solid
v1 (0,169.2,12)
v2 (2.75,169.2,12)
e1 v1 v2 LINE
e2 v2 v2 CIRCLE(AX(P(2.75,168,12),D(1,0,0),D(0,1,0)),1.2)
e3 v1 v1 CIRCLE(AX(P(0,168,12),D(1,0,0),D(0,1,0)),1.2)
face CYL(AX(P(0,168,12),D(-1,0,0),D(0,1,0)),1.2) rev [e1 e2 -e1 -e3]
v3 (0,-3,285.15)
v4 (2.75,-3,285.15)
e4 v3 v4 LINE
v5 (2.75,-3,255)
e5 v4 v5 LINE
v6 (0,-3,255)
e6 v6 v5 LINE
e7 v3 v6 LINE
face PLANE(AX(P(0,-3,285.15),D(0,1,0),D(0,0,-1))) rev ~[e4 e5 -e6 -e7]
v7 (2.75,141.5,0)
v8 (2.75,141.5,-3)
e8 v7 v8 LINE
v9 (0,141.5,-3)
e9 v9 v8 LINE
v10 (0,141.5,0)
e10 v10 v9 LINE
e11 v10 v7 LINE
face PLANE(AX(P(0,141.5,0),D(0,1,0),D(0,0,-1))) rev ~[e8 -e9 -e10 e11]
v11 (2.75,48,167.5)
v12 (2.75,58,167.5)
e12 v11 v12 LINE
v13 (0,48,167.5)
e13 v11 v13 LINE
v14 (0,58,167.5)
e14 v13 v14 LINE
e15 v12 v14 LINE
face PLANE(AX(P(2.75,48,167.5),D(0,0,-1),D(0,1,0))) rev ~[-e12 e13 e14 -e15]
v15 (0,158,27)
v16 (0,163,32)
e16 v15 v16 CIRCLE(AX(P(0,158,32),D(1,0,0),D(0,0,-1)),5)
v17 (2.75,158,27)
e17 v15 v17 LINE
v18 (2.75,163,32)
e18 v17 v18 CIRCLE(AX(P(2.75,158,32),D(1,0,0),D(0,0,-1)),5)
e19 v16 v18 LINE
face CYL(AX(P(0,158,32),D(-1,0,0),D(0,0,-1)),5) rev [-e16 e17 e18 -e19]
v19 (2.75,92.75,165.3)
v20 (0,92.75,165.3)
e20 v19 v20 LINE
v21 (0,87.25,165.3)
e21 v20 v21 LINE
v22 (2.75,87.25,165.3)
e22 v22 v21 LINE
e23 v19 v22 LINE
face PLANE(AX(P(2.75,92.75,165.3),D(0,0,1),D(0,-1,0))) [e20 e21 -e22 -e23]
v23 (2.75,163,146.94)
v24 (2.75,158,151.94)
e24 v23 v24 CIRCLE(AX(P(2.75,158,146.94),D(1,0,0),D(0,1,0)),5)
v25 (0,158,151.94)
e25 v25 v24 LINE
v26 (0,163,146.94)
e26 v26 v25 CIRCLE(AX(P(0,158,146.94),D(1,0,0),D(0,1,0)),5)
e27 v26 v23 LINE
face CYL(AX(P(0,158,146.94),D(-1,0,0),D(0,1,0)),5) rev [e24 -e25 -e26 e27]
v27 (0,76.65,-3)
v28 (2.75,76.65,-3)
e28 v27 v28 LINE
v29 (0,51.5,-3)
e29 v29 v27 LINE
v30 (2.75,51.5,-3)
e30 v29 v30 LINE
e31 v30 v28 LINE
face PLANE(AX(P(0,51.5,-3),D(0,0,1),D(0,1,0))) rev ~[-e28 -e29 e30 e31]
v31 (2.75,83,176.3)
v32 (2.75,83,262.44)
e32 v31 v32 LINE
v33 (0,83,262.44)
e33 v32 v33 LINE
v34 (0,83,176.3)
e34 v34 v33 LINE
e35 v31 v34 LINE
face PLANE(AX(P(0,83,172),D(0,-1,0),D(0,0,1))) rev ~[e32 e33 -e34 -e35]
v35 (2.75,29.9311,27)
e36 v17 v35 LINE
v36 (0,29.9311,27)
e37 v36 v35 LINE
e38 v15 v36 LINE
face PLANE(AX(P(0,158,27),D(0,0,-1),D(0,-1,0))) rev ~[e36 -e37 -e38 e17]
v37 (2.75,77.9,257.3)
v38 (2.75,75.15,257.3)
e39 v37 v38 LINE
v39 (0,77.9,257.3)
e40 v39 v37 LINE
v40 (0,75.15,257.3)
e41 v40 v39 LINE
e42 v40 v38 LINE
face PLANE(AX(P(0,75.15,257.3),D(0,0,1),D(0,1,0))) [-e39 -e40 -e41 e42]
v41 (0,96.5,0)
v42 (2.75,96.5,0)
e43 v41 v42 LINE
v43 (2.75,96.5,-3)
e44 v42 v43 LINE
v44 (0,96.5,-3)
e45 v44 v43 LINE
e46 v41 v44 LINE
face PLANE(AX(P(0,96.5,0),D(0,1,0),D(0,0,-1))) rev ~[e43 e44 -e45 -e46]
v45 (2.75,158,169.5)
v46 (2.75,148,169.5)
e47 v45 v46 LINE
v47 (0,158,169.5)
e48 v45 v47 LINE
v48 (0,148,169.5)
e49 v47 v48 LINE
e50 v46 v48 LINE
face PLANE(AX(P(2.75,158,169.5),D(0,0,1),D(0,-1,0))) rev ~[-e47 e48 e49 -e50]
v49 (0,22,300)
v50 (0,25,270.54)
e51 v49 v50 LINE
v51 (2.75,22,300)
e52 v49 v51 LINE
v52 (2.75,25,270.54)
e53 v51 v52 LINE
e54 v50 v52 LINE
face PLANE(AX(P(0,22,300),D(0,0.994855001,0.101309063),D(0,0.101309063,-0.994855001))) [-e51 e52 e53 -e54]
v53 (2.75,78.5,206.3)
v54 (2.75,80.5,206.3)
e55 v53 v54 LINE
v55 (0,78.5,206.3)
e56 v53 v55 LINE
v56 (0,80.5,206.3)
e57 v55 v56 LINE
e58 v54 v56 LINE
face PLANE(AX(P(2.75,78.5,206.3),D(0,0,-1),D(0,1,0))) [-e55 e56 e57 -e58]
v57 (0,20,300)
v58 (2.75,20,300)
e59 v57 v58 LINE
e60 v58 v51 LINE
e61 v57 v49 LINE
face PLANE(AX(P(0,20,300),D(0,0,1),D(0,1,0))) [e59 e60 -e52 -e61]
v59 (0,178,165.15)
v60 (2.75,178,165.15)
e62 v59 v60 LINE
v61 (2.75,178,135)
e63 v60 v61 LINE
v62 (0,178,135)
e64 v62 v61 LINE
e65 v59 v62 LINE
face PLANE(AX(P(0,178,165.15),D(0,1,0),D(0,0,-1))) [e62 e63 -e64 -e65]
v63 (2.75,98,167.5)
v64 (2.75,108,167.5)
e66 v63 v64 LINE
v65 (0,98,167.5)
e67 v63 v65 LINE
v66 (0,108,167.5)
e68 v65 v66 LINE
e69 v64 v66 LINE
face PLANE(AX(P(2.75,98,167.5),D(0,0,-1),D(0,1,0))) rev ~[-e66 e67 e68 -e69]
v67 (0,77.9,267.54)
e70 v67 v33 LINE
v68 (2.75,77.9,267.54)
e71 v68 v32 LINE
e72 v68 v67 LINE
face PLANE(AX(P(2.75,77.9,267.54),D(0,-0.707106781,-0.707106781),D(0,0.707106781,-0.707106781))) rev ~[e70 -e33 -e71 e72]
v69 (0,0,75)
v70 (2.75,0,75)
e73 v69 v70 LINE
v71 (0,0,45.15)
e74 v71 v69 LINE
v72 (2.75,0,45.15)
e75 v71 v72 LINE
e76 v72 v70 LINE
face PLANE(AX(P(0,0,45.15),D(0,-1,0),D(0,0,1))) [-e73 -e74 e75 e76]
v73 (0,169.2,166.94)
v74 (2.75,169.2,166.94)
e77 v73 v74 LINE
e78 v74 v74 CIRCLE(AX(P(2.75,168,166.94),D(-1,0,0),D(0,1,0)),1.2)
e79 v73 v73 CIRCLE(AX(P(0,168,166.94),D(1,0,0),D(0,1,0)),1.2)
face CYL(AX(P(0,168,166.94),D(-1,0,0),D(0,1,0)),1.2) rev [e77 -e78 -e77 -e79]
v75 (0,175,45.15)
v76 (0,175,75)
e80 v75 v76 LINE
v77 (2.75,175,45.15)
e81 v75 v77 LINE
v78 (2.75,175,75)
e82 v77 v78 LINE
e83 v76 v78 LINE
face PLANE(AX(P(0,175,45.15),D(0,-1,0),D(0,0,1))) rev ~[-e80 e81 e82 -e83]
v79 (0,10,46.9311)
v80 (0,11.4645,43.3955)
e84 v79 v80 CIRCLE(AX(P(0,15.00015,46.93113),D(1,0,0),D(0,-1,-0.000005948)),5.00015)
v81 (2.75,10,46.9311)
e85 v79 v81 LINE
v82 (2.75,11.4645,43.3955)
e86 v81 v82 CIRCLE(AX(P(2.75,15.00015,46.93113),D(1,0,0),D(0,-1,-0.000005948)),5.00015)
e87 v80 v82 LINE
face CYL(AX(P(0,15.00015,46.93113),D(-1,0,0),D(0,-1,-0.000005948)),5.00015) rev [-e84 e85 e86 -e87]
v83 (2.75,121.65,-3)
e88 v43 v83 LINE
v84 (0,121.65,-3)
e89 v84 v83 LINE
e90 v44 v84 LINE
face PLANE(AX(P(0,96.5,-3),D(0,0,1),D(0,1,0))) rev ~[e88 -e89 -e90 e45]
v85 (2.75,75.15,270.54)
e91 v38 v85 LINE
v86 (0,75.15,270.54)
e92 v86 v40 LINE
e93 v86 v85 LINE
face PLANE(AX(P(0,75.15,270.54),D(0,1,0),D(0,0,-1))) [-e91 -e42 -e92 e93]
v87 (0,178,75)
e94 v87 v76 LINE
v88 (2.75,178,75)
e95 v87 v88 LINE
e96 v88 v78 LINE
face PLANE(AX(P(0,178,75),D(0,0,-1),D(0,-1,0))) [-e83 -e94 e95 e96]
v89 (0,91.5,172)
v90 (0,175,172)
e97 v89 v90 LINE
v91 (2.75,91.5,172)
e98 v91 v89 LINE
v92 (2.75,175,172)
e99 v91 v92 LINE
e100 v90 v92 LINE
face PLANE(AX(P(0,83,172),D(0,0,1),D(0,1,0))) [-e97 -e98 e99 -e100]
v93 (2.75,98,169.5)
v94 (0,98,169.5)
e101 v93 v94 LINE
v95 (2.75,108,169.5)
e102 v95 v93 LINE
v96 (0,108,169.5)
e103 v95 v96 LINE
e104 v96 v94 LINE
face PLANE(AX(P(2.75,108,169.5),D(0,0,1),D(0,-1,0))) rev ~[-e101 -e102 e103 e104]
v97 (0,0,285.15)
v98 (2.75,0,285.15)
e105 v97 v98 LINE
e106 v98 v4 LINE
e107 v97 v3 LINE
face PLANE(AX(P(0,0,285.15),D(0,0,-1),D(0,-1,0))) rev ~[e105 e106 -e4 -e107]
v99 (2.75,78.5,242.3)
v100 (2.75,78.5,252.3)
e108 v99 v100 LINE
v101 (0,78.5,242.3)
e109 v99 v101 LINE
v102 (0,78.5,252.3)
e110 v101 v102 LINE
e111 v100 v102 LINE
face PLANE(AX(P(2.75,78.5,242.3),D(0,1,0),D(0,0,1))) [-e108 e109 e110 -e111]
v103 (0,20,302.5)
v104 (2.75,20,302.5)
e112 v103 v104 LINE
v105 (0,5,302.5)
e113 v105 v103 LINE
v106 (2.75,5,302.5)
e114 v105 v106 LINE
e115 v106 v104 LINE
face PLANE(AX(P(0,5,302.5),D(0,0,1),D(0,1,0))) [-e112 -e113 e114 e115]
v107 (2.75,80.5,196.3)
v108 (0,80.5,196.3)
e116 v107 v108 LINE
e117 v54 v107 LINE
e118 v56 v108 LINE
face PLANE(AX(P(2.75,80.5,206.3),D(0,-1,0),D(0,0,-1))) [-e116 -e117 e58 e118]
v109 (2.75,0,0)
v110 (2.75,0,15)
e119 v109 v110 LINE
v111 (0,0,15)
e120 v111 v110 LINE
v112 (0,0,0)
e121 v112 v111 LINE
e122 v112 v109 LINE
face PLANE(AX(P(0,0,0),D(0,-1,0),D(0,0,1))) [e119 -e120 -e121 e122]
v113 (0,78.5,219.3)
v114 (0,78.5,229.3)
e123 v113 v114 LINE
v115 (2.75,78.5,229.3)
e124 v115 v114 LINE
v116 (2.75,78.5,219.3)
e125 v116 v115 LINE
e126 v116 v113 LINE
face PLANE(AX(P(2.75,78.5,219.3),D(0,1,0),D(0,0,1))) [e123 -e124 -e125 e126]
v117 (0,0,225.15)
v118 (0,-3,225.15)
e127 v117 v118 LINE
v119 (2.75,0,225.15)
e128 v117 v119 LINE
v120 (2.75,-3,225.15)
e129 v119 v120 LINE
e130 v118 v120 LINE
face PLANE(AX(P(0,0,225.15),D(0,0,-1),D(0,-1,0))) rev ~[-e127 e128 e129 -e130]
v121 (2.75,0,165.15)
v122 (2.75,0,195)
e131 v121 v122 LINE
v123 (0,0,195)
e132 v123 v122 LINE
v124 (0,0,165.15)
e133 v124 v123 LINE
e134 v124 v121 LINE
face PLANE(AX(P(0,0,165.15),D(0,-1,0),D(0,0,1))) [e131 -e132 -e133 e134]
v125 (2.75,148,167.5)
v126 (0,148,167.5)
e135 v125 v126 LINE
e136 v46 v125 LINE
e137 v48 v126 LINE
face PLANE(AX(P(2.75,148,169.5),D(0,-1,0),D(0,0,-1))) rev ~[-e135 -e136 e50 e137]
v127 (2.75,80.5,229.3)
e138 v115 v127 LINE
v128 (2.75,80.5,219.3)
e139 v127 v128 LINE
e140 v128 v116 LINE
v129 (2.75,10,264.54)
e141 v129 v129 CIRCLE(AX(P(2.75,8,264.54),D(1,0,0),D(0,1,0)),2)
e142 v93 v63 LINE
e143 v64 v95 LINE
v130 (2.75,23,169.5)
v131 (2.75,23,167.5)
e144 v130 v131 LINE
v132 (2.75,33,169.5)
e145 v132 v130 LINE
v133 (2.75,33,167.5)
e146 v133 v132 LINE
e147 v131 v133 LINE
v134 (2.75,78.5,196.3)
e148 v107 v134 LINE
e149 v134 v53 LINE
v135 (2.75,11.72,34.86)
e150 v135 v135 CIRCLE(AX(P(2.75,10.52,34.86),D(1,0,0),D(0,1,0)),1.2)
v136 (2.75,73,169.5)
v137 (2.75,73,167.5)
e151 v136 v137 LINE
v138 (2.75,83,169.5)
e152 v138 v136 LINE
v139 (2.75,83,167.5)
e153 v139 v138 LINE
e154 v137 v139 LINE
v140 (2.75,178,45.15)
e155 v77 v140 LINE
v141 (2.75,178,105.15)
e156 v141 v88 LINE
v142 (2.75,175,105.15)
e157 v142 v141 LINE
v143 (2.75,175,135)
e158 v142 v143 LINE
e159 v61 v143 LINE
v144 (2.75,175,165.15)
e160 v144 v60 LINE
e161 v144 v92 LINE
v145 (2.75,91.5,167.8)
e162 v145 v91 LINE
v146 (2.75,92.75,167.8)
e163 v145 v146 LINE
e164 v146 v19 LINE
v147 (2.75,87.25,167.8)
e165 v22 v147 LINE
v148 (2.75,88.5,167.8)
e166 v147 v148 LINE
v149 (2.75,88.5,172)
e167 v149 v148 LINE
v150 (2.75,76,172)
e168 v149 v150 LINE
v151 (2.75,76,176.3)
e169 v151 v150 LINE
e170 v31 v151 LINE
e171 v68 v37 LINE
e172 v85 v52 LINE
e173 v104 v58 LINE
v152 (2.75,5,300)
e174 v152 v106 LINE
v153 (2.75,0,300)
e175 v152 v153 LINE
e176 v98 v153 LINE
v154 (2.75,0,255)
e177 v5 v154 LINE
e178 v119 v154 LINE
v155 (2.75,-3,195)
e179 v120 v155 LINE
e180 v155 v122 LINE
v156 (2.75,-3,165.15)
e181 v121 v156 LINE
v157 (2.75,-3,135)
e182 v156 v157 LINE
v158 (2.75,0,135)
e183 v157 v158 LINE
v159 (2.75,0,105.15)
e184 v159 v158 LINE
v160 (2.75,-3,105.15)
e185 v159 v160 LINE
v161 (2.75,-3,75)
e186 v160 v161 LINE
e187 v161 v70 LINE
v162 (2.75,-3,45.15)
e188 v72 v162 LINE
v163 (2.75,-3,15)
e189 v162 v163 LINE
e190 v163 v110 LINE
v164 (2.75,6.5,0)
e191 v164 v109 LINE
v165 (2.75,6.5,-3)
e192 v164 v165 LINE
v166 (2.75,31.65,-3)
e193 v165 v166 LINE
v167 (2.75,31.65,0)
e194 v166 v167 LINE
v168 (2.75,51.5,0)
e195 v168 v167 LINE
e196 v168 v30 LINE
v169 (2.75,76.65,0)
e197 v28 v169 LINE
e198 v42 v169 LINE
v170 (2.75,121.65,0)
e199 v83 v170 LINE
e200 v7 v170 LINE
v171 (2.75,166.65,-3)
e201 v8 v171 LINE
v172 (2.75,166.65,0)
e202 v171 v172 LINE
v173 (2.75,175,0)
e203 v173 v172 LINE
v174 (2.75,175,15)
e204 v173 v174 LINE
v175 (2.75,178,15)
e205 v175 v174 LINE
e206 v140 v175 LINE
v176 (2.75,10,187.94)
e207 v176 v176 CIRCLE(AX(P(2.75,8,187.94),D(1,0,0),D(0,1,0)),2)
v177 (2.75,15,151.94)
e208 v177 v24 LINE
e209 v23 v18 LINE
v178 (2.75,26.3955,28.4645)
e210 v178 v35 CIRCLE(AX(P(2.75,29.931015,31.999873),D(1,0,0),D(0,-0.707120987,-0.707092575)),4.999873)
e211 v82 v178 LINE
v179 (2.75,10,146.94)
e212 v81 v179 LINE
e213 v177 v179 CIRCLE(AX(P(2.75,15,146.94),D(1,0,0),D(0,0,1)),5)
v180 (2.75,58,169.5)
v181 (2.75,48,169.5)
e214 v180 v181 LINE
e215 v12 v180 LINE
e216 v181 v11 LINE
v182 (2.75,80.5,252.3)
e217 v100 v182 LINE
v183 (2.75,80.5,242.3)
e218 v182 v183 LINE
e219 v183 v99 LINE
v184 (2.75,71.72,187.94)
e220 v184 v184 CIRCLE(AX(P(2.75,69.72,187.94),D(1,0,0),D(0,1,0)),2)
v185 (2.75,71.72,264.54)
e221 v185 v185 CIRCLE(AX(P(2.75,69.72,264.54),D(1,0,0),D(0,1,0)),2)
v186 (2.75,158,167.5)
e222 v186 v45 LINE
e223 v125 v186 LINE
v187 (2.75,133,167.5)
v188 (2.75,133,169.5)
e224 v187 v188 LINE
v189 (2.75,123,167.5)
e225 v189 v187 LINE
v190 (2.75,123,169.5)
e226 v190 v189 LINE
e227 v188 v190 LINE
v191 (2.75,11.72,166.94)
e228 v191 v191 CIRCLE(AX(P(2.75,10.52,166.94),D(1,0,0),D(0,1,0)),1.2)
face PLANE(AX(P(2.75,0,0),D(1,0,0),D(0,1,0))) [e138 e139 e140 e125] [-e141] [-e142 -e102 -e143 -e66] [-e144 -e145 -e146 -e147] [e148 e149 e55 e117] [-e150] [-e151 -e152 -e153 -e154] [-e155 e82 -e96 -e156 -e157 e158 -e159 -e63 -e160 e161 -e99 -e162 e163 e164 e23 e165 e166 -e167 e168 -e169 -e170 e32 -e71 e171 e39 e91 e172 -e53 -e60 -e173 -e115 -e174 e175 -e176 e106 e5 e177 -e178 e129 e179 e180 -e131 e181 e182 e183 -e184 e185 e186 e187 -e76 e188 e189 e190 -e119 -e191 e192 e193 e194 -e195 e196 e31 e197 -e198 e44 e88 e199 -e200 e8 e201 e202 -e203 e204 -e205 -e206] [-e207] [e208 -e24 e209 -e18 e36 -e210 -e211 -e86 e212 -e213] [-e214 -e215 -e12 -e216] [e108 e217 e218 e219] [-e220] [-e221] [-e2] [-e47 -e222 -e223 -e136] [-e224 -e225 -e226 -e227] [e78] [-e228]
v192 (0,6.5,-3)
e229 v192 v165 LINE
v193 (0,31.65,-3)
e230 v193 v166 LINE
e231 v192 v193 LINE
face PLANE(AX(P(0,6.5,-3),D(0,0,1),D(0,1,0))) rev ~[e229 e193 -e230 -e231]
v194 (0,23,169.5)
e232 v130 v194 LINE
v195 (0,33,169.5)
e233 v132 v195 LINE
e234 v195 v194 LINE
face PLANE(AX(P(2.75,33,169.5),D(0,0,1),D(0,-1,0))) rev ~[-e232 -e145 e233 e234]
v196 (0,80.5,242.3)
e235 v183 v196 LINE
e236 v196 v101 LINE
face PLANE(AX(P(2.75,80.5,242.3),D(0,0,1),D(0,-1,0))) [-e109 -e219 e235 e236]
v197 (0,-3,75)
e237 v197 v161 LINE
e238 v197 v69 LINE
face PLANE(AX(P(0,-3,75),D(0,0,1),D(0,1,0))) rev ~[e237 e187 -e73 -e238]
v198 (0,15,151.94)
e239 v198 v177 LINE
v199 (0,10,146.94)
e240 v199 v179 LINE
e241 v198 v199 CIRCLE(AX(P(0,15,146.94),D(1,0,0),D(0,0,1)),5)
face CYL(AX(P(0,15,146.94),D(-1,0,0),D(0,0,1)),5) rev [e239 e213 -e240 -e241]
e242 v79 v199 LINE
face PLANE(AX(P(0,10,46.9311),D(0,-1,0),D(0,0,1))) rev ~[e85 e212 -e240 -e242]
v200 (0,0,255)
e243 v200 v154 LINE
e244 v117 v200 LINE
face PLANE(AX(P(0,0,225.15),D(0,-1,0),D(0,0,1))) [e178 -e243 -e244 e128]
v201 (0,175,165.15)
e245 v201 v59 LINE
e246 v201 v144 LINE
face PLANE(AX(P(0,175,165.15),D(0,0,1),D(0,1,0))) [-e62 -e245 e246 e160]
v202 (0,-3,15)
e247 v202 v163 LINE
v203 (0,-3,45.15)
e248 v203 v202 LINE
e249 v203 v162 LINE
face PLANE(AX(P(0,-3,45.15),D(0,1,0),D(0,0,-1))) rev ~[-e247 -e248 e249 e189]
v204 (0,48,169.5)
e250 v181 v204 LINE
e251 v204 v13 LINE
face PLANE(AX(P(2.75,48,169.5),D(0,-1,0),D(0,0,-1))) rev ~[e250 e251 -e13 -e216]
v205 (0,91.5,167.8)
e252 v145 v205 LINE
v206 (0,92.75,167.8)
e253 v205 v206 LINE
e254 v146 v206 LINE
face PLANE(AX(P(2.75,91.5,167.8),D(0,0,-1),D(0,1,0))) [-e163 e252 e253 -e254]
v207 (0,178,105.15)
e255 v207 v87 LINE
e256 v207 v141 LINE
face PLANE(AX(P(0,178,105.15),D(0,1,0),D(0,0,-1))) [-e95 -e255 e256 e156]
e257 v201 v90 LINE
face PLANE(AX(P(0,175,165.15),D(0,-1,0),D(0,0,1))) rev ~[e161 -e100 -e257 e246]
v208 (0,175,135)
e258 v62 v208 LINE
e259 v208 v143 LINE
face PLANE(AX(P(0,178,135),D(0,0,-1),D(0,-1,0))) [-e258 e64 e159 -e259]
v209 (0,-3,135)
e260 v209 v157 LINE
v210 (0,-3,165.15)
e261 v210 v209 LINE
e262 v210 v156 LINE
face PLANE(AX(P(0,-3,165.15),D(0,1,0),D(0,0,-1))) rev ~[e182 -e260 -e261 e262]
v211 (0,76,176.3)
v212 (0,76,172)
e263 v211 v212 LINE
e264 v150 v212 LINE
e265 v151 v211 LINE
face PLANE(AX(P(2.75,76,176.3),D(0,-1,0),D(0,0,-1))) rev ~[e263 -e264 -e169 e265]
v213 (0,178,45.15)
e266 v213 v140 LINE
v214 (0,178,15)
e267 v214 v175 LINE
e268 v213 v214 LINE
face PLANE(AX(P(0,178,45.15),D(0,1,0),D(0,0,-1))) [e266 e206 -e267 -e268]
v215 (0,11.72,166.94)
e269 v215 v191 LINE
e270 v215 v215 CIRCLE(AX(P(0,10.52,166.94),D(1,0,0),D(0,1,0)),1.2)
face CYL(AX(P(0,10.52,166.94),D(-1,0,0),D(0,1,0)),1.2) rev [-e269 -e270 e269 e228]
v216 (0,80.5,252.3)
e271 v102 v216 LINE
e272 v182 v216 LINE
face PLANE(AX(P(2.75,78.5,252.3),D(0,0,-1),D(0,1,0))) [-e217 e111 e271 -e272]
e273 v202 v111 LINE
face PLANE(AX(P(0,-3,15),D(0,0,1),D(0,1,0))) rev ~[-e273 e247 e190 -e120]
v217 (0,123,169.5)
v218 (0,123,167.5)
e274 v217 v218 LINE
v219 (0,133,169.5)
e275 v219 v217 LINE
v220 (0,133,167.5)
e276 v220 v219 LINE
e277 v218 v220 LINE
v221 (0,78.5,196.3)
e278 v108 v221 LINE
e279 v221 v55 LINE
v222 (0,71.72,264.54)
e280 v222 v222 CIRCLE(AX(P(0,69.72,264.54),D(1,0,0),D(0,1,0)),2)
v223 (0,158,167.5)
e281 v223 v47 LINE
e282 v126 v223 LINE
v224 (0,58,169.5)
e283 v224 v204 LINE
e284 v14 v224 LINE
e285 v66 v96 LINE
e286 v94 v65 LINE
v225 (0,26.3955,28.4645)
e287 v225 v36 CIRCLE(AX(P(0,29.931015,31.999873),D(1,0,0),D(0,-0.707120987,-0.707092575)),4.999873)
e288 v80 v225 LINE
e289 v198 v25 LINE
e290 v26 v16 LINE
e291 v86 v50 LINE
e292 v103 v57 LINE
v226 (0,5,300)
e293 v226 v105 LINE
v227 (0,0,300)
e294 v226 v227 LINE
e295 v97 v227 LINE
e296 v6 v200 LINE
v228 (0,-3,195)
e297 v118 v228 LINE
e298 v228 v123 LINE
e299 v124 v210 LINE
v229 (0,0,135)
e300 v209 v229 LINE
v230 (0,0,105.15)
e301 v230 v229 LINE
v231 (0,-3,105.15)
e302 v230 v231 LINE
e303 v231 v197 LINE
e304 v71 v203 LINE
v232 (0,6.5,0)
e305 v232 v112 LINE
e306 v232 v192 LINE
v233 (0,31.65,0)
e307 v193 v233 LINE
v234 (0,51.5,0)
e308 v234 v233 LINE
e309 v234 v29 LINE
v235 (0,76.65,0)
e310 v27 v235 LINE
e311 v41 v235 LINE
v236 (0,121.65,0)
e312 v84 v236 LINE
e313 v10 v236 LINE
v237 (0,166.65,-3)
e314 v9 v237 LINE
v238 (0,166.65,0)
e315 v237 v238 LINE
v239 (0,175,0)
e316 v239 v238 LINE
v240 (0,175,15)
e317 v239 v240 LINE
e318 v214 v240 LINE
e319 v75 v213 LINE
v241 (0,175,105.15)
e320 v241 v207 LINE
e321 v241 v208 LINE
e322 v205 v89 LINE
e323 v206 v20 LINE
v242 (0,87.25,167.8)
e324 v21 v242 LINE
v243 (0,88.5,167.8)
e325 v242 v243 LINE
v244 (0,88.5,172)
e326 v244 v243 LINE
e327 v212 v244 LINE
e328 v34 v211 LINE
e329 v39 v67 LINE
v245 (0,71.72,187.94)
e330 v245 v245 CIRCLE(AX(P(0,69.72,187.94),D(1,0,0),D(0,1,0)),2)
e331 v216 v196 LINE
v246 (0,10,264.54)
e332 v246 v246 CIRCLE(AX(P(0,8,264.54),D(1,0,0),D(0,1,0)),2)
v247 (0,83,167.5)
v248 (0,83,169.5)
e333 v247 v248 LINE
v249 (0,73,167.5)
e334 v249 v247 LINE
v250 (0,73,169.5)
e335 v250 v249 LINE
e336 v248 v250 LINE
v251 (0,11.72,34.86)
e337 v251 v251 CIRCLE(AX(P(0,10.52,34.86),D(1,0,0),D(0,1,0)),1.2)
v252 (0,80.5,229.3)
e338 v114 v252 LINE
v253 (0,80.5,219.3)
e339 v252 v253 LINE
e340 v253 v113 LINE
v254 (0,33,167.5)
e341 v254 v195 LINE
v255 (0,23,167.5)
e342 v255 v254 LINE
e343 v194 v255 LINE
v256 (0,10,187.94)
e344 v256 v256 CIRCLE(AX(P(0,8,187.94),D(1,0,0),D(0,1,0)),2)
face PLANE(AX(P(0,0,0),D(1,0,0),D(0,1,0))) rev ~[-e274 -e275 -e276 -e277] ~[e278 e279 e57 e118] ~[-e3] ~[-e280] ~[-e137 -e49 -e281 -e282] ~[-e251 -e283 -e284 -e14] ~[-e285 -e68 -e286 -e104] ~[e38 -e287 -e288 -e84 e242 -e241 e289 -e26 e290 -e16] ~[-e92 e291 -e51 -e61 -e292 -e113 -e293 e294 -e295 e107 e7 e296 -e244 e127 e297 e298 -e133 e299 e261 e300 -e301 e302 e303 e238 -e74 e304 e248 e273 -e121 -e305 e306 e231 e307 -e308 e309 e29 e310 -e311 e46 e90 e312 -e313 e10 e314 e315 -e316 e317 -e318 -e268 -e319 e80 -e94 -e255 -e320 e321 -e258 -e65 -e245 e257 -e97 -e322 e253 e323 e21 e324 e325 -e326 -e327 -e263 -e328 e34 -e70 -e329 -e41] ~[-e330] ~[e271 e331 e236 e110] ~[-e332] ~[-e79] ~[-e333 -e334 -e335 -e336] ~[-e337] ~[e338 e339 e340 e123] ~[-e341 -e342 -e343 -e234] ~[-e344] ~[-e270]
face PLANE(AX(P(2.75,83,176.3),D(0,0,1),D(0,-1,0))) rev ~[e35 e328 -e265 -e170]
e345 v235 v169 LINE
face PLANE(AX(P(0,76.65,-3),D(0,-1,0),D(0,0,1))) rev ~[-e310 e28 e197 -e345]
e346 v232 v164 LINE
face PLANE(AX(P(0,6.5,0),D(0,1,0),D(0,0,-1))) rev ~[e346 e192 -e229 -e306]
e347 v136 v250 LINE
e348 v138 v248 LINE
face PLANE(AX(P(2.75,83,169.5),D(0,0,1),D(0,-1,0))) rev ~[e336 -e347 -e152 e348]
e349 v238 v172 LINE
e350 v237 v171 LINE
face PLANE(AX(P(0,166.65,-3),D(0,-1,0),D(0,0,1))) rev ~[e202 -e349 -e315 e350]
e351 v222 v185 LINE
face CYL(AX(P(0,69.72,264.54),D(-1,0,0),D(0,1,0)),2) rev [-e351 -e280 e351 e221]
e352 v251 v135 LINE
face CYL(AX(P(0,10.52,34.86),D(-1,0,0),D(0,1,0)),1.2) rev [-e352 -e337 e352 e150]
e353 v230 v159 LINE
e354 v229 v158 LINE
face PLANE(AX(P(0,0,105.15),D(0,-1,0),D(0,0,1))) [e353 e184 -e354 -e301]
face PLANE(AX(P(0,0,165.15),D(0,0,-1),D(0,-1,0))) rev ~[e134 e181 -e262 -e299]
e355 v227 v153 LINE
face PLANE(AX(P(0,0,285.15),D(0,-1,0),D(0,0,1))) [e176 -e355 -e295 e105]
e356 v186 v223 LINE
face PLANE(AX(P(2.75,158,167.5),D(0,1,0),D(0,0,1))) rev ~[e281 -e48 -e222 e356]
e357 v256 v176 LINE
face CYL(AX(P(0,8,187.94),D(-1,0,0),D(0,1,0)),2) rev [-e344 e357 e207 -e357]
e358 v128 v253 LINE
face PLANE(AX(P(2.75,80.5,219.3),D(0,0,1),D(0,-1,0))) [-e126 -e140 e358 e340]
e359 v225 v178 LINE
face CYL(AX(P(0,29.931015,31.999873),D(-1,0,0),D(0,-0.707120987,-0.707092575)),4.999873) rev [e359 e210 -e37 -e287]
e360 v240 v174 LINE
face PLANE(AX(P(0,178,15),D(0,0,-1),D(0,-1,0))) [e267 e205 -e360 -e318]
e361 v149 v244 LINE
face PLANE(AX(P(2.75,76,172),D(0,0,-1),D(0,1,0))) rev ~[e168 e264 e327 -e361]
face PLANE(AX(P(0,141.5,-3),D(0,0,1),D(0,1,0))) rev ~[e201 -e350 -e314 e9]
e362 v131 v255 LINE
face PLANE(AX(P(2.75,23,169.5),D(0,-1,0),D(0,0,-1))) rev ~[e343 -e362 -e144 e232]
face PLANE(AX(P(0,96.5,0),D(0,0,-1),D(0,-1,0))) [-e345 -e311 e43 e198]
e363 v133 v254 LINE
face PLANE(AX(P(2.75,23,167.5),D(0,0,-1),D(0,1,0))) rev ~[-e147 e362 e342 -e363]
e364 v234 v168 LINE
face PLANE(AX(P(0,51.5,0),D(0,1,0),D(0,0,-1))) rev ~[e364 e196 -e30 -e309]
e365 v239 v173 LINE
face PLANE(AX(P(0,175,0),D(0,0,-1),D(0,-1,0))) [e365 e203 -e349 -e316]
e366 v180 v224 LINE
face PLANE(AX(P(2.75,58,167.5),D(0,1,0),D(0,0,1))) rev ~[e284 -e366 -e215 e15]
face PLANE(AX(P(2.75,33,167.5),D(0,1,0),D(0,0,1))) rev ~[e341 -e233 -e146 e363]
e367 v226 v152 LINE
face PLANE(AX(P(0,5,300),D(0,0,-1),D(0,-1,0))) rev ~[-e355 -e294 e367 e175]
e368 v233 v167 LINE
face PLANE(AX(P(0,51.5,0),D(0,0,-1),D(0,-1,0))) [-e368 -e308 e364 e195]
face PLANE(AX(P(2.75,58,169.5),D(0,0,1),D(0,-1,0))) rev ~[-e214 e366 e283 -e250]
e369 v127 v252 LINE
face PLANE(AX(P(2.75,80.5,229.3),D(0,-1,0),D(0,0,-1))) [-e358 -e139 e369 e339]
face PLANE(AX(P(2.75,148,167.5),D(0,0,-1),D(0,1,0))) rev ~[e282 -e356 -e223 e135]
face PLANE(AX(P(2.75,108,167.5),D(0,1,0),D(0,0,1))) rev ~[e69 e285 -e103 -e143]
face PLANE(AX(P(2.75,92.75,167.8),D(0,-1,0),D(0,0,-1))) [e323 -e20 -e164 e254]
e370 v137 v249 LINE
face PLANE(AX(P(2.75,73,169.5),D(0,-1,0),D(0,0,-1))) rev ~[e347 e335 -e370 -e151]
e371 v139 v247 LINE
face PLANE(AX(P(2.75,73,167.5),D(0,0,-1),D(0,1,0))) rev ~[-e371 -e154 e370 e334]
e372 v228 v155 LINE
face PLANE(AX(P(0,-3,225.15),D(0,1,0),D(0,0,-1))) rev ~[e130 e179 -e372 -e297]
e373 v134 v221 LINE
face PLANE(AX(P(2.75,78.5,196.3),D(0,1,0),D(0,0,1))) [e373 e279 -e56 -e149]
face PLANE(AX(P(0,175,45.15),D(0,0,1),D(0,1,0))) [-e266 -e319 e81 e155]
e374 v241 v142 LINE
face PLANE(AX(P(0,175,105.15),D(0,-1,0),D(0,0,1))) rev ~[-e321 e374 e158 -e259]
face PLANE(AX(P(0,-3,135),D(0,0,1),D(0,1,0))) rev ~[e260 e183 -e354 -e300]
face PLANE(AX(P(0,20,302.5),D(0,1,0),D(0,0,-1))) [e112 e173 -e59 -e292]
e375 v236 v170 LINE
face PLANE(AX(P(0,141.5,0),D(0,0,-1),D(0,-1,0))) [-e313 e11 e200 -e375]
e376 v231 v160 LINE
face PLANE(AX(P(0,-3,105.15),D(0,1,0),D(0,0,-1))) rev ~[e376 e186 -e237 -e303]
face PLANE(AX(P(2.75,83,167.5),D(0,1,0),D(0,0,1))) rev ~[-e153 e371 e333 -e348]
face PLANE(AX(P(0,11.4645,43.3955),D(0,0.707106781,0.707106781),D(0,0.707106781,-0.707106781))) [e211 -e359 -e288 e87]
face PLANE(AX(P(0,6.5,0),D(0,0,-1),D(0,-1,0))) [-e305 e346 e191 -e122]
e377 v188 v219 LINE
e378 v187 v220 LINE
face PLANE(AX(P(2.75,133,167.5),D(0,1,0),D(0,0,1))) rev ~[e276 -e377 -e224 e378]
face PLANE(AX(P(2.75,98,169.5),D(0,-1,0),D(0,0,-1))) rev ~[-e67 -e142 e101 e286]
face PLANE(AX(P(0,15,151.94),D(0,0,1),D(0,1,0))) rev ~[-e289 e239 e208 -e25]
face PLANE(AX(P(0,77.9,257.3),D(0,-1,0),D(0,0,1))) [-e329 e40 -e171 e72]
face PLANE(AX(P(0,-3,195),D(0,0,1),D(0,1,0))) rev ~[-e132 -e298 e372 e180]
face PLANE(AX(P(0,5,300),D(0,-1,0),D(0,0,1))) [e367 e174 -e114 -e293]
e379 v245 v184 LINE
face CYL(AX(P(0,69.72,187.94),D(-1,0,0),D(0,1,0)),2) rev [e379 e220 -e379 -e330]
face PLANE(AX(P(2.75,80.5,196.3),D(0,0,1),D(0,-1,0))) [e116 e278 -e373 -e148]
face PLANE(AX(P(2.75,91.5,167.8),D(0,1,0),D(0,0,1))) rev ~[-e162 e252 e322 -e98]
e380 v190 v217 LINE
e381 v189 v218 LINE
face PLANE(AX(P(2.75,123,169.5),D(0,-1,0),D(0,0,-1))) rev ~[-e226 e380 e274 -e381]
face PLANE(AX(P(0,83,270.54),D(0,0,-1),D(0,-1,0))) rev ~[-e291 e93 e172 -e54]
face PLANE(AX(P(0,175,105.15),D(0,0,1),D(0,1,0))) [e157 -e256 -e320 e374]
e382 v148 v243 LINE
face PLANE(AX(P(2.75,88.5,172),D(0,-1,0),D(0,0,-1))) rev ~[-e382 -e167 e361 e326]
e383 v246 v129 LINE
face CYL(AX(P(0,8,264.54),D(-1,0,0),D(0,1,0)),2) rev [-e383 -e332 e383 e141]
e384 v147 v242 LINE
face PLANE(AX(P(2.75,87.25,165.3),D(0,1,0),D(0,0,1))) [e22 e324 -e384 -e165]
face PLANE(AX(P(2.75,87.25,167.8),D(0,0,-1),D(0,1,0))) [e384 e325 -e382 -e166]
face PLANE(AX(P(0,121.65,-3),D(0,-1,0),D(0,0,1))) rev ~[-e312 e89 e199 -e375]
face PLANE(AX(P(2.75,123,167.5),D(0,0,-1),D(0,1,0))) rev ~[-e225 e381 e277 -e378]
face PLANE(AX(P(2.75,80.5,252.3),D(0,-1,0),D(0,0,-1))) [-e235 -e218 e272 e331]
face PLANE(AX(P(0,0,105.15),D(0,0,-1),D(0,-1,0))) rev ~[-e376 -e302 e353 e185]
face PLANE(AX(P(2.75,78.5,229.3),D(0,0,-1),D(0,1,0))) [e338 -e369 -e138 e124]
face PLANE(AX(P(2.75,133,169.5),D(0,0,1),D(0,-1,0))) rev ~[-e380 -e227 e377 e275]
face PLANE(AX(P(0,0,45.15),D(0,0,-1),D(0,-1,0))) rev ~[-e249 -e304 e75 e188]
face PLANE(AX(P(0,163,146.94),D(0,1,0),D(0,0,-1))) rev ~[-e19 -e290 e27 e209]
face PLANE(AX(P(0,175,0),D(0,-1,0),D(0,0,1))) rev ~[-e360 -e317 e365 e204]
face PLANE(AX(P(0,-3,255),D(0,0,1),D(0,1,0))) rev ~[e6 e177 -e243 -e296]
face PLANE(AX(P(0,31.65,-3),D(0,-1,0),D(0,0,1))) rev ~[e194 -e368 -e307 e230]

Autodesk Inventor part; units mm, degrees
ref_plane "YZ Plane" through (0, 0, 0) normal (1, 0, 0) x (0, 1, 0)
ref_plane "XZ Plane" through (0, 0, 0) normal (0, 1, 0) x (-1, 0, 0)
ref_plane "XY Plane" through (0, 0, 0) normal (0, 0, 1) x (1, 0, 0)
sketch "Sketch1" plane through (0, 0, 0) normal (1, 0, 0) x (0, 1, 0)
  line L0 (163, 146.94) -> (163, 32)
  line L1 (15, 151.94) -> (158, 151.94)
  circle A0 centre (8, 187.94) radius 2
  circle A1 centre (69.72, 264.54) radius 2
  circle A2 centre (69.72, 187.94) radius 2
  circle A3 centre (8, 264.54) radius 2
  line L2 (83, 270.54) -> (20, 300) construction
  line L3 (0, 0) -> (0, 300)
  line L4 (175, 0) -> (0, 0)
  line L5 (175, 0) -> (175, 172)
  line L6 (83, 172) -> (175, 172)
  line L7 (83, 172) -> (83, 270.54)
  circle A4 centre (10.52, 166.94) radius 1.2
  circle A5 centre (168, 12) radius 1.2
  circle A6 centre (168, 166.94) radius 1.2
  circle A7 centre (10.52, 34.86) radius 1.2
  line L8 (10.52, 166.94) -> (168, 166.94) construction
  line L9 (168, 166.94) -> (168, 12) construction
  line L10 (168, 12) -> (10.52, 12) construction
  line L11 (10.52, 12) -> (10.52, 34.86) construction
  line L12 (10.52, 34.86) -> (10.52, 166.94) construction
  line L13 (20, 300) -> (0, 300)
  line L14 (8, 264.54) -> (69.72, 264.54) construction
  line L15 (69.72, 264.54) -> (69.72, 187.94) construction
  line L16 (69.72, 187.94) -> (8, 187.94) construction
  line L17 (8, 187.94) -> (8, 264.54) construction
  line L18 (166.65, 0) -> (141.5, 0)
  line L19 (141.5, 0) -> (141.5, -3)
  line L20 (141.5, -3) -> (166.65, -3)
  line L21 (166.65, -3) -> (166.65, 0)
  line L22 (121.65, 0) -> (96.5, 0)
  line L23 (96.5, 0) -> (96.5, -3)
  line L24 (96.5, -3) -> (121.65, -3)
  line L25 (121.65, -3) -> (121.65, 0)
  line L26 (76.65, 0) -> (51.5, 0)
  line L27 (51.5, 0) -> (51.5, -3)
  line L28 (51.5, -3) -> (76.65, -3)
  line L29 (76.65, -3) -> (76.65, 0)
  line L30 (31.65, 0) -> (6.5, 0)
  line L31 (6.5, 0) -> (6.5, -3)
  line L32 (6.5, -3) -> (31.65, -3)
  line L33 (31.65, -3) -> (31.65, 0)
  line L34 (0, 285.15) -> (-3, 285.15)
  line L35 (-3, 285.15) -> (-3, 255)
  line L36 (-3, 255) -> (0, 255)
  line L37 (0, 255) -> (0, 285.15)
  line L38 (0, 225.15) -> (-3, 225.15)
  line L39 (-3, 225.15) -> (-3, 195)
  line L40 (-3, 195) -> (0, 195)
  line L41 (0, 195) -> (0, 225.15)
  line L42 (0, 165.15) -> (-3, 165.15)
  line L43 (-3, 165.15) -> (-3, 135)
  line L44 (-3, 135) -> (0, 135)
  line L45 (0, 135) -> (0, 165.15)
  line L46 (0, 105.15) -> (-3, 105.15)
  line L47 (-3, 105.15) -> (-3, 75)
  line L48 (-3, 75) -> (0, 75)
  line L49 (0, 75) -> (0, 105.15)
  line L50 (0, 45.15) -> (-3, 45.15)
  line L51 (-3, 45.15) -> (-3, 15)
  line L52 (-3, 15) -> (0, 15)
  line L53 (0, 15) -> (0, 45.15)
  line L54 (175, 165.15) -> (178, 165.15)
  line L55 (178, 165.15) -> (178, 135)
  line L56 (178, 135) -> (175, 135)
  line L57 (175, 135) -> (175, 165.15)
  line L58 (175, 105.15) -> (178, 105.15)
  line L59 (178, 105.15) -> (178, 75)
  line L60 (178, 75) -> (175, 75)
  line L61 (175, 75) -> (175, 105.15)
  line L62 (175, 45.15) -> (178, 45.15)
  line L63 (178, 45.15) -> (178, 15)
  line L64 (178, 15) -> (175, 15)
  line L65 (175, 15) -> (175, 45.15)
  line L66 (83, 270.54) -> (25, 270.54)
  line L67 (20, 300) -> (5, 300)
  line L68 (5, 300) -> (5, 302.5)
  line L69 (5, 302.5) -> (20, 302.5)
  line L70 (20, 302.5) -> (20, 300)
  line L71 (11.4645, 43.3955) -> (26.3955, 28.4645)
  line L72 (10, 46.9311) -> (10, 146.94)
  line L73 (158, 27) -> (29.9311, 27)
  arc A8 (163, 146.94) -> (158, 151.94) centre (158, 146.94) ccw
  arc A9 (158, 27) -> (163, 32) centre (158, 32) ccw
  arc A10 (15, 151.94) -> (10, 146.94) centre (15, 146.94) ccw
  arc A11 (10, 46.9311) -> (11.4645, 43.3955) centre (15, 46.9311) ccw
  arc A12 (26.3955, 28.4645) -> (29.9311, 27) centre (29.9311, 32) ccw
  line L74 (20, 300) -> (22, 300)
  line L75 (22, 300) -> (25, 270.54)
  point P0 (163, 151.94)
  point P1 (163, 27)
  point P2 (10, 151.94)
  point P3 (10, 44.86)
  dimension "d48" = 10
  dimension "d2" = 175
  dimension "d3" = 172
  dimension "d4" = 157.48
  dimension "d5" = 154.94
  dimension "d6" = 7
  dimension "d7" = 12
  dimension "d8" = 83
  dimension "d9" = 20
  dimension "d16" = 61.72
  dimension "d17" = 76.6
  dimension "d18" = 21
  dimension "d19" = 8
  dimension "d20" = 2.4
  dimension "d21" = 22.86
  dimension "d22" = 4
  dimension "d23" = 3
  dimension "d24" = 25.15
  dimension "d25" = 45
  dimension "d26" = 45
  dimension "d27" = 45
  dimension "d28" = 6.5
  dimension "d29" = 30.15
  dimension "d30" = 60
  dimension "d31" = 60
  dimension "d32" = 60
  dimension "d33" = 60
  dimension "d34" = 15
  dimension "d35" = 3
  dimension "d36" = 3
  dimension "d37" = 30.15
  dimension "d38" = 15
  dimension "d39" = 60
  dimension "d40" = 60
  dimension "d50" = 5
  dimension "d51" = 2.5
  dimension "d52" = 15
  dimension "d53" = 300
  dimension "d54" = 15
  dimension "d55" = 10
  dimension "d56" = 10
  dimension "d57" = 45
  dimension "d59" = 5
  dimension "d60" = 2
  dimension "d62" = 6
  dimension "d63" = 5
  dimension "d64" = 15
extrude "Extrusion1" add sketch "Sketch1" along normal blind 2.75
sketch "Sketch2" plane through (2.75, 0, 0) normal (1, 0, 0) x (0, 0, -1)
  line L0 (-172, 175) -> (-172, 83) projected
  line L1 (-172, 83) -> (-176.3, 83)
  line L2 (-176.3, 83) -> (-176.3, 76)
  line L3 (-176.3, 76) -> (-172, 76)
  line L4 (-172, 76) -> (-172, 83)
  line L5 (-172, 88.5) -> (-167.8, 88.5)
  line L6 (-167.8, 91.5) -> (-172, 91.5)
  line L7 (-172, 91.5) -> (-172, 88.5)
  line L8 (-167.8, 92.75) -> (-165.3, 92.75)
  line L9 (-165.3, 92.75) -> (-165.3, 87.25)
  line L10 (-165.3, 87.25) -> (-167.8, 87.25)
  line L11 (-167.8, 87.25) -> (-167.8, 88.5)
  line L12 (-167.8, 91.5) -> (-167.8, 92.75)
  line L13 (-172, 83) -> (-270.54, 83) projected
  point P0 (0, 0)
  point P1 (-172, 90)
  dimension "d41" = 5.5
  dimension "d42" = 2.5
  dimension "d44" = 4.3
  dimension "d45" = 7
  dimension "d46" = 7
  dimension "d47" = 3
  dimension "d61" = 11
extrude "Extrusion2" cut sketch "Sketch2" against normal blind 10
sketch "Sketch3" plane through (0, 0, 0) normal (-1, 0, 0) x (0, 0, 1)
  line L0 (270.54, 75.15) -> (257.3, 75.15)
  line L1 (257.3, 75.15) -> (257.3, 77.9)
  line L2 (257.3, 77.9) -> (270.54, 77.9)
  line L3 (270.54, 77.9) -> (270.54, 75.15)
  line L4 (176.3, 83) -> (270.54, 83) projected
  line L5 (176.3, 83) -> (176.3, 76) projected
  line L6 (270.54, 83) -> (270.54, 25) projected
  point P0 (0, 0)
  dimension "d65" = 2.75
  dimension "d67" = 5.1
  dimension "d68" = 81
extrude "Extrusion3" cut sketch "Sketch3" against normal blind 10
sketch "Sketch4" plane through (2.75, 0, 0) normal (1, 0, 0) x (0, 0, -1)
  line L0 (-242.3, 78.5) -> (-252.3, 78.5)
  line L1 (-252.3, 78.5) -> (-252.3, 80.5)
  line L2 (-252.3, 80.5) -> (-242.3, 80.5)
  line L3 (-242.3, 80.5) -> (-242.3, 78.5)
  line L4 (-176.3, 83) -> (-270.54, 83) projected
  line L5 (-257.3, 77.9) -> (-257.3, 75.15) projected
  line L6 (-219.3, 78.5) -> (-229.3, 78.5)
  line L7 (-229.3, 78.5) -> (-229.3, 80.5)
  line L8 (-229.3, 80.5) -> (-219.3, 80.5)
  line L9 (-219.3, 80.5) -> (-219.3, 78.5)
  line L10 (-196.3, 78.5) -> (-206.3, 78.5)
  line L11 (-206.3, 78.5) -> (-206.3, 80.5)
  line L12 (-206.3, 80.5) -> (-196.3, 80.5)
  line L13 (-196.3, 80.5) -> (-196.3, 78.5)
  line L14 (-167.5, 158) -> (-169.5, 158)
  line L15 (-169.5, 158) -> (-169.5, 148)
  line L16 (-169.5, 148) -> (-167.5, 148)
  line L17 (-167.5, 148) -> (-167.5, 158)
  line L18 (-172, 175) -> (-172, 91.5) projected
  circle A0 centre (-166.94, 168) radius 1.2 projected
  line L19 (-169.5, 123) -> (-167.5, 123)
  line L20 (-169.5, 133) -> (-169.5, 123)
  line L21 (-167.5, 123) -> (-167.5, 133)
  line L22 (-167.5, 133) -> (-169.5, 133)
  line L23 (-169.5, 98) -> (-167.5, 98)
  line L24 (-169.5, 108) -> (-169.5, 98)
  line L25 (-167.5, 98) -> (-167.5, 108)
  line L26 (-167.5, 108) -> (-169.5, 108)
  line L27 (-169.5, 73) -> (-167.5, 73)
  line L28 (-169.5, 83) -> (-169.5, 73)
  line L29 (-167.5, 73) -> (-167.5, 83)
  line L30 (-167.5, 83) -> (-169.5, 83)
  line L31 (-169.5, 48) -> (-167.5, 48)
  line L32 (-169.5, 58) -> (-169.5, 48)
  line L33 (-167.5, 48) -> (-167.5, 58)
  line L34 (-167.5, 58) -> (-169.5, 58)
  line L35 (-169.5, 23) -> (-167.5, 23)
  line L36 (-169.5, 33) -> (-169.5, 23)
  line L37 (-167.5, 23) -> (-167.5, 33)
  line L38 (-167.5, 33) -> (-169.5, 33)
  point P0 (0, 0)
  dimension "d71" = 10
  dimension "d72" = 2
  dimension "d73" = 2.5
  dimension "d74" = 5
  dimension "d77" = 23
  dimension "d82" = 10
  dimension "d83" = 2
  dimension "d84" = 2.5
  dimension "d85" = 10
  dimension "d88" = 25
extrude "Extrusion4" cut sketch "Sketch4" against normal through all
sketch "Sketch5" plane through (2.75, 0, 0) normal (1, 0, 0) x (0, 0, -1)
  line L0 (-257.3, 77.9) -> (-270.54, 77.9) projected
  line L1 (-267.54, 77.9) -> (-262.44, 83)
  line L2 (-270.54, 83) -> (-270.54, 77.9) projected
  line L3 (-262.44, 83) -> (-270.54, 83)
  line L4 (-270.54, 83) -> (-270.54, 77.9)
  line L5 (-270.54, 77.9) -> (-267.54, 77.9)
  point P0 (0, 0)
  dimension "d95" = 3
  dimension "d96" = 45
extrude "Extrusion5" cut sketch "Sketch5" against normal blind 10
equation "\"d26\" = d25"
equation "\"d27\" = d25"
equation "\"d31\" = d30"
equation "\"d32\" = d30"
equation "\"d33\" = d30"
equation "\"d40\" = d39"
properties part number "TrayPanelA"
